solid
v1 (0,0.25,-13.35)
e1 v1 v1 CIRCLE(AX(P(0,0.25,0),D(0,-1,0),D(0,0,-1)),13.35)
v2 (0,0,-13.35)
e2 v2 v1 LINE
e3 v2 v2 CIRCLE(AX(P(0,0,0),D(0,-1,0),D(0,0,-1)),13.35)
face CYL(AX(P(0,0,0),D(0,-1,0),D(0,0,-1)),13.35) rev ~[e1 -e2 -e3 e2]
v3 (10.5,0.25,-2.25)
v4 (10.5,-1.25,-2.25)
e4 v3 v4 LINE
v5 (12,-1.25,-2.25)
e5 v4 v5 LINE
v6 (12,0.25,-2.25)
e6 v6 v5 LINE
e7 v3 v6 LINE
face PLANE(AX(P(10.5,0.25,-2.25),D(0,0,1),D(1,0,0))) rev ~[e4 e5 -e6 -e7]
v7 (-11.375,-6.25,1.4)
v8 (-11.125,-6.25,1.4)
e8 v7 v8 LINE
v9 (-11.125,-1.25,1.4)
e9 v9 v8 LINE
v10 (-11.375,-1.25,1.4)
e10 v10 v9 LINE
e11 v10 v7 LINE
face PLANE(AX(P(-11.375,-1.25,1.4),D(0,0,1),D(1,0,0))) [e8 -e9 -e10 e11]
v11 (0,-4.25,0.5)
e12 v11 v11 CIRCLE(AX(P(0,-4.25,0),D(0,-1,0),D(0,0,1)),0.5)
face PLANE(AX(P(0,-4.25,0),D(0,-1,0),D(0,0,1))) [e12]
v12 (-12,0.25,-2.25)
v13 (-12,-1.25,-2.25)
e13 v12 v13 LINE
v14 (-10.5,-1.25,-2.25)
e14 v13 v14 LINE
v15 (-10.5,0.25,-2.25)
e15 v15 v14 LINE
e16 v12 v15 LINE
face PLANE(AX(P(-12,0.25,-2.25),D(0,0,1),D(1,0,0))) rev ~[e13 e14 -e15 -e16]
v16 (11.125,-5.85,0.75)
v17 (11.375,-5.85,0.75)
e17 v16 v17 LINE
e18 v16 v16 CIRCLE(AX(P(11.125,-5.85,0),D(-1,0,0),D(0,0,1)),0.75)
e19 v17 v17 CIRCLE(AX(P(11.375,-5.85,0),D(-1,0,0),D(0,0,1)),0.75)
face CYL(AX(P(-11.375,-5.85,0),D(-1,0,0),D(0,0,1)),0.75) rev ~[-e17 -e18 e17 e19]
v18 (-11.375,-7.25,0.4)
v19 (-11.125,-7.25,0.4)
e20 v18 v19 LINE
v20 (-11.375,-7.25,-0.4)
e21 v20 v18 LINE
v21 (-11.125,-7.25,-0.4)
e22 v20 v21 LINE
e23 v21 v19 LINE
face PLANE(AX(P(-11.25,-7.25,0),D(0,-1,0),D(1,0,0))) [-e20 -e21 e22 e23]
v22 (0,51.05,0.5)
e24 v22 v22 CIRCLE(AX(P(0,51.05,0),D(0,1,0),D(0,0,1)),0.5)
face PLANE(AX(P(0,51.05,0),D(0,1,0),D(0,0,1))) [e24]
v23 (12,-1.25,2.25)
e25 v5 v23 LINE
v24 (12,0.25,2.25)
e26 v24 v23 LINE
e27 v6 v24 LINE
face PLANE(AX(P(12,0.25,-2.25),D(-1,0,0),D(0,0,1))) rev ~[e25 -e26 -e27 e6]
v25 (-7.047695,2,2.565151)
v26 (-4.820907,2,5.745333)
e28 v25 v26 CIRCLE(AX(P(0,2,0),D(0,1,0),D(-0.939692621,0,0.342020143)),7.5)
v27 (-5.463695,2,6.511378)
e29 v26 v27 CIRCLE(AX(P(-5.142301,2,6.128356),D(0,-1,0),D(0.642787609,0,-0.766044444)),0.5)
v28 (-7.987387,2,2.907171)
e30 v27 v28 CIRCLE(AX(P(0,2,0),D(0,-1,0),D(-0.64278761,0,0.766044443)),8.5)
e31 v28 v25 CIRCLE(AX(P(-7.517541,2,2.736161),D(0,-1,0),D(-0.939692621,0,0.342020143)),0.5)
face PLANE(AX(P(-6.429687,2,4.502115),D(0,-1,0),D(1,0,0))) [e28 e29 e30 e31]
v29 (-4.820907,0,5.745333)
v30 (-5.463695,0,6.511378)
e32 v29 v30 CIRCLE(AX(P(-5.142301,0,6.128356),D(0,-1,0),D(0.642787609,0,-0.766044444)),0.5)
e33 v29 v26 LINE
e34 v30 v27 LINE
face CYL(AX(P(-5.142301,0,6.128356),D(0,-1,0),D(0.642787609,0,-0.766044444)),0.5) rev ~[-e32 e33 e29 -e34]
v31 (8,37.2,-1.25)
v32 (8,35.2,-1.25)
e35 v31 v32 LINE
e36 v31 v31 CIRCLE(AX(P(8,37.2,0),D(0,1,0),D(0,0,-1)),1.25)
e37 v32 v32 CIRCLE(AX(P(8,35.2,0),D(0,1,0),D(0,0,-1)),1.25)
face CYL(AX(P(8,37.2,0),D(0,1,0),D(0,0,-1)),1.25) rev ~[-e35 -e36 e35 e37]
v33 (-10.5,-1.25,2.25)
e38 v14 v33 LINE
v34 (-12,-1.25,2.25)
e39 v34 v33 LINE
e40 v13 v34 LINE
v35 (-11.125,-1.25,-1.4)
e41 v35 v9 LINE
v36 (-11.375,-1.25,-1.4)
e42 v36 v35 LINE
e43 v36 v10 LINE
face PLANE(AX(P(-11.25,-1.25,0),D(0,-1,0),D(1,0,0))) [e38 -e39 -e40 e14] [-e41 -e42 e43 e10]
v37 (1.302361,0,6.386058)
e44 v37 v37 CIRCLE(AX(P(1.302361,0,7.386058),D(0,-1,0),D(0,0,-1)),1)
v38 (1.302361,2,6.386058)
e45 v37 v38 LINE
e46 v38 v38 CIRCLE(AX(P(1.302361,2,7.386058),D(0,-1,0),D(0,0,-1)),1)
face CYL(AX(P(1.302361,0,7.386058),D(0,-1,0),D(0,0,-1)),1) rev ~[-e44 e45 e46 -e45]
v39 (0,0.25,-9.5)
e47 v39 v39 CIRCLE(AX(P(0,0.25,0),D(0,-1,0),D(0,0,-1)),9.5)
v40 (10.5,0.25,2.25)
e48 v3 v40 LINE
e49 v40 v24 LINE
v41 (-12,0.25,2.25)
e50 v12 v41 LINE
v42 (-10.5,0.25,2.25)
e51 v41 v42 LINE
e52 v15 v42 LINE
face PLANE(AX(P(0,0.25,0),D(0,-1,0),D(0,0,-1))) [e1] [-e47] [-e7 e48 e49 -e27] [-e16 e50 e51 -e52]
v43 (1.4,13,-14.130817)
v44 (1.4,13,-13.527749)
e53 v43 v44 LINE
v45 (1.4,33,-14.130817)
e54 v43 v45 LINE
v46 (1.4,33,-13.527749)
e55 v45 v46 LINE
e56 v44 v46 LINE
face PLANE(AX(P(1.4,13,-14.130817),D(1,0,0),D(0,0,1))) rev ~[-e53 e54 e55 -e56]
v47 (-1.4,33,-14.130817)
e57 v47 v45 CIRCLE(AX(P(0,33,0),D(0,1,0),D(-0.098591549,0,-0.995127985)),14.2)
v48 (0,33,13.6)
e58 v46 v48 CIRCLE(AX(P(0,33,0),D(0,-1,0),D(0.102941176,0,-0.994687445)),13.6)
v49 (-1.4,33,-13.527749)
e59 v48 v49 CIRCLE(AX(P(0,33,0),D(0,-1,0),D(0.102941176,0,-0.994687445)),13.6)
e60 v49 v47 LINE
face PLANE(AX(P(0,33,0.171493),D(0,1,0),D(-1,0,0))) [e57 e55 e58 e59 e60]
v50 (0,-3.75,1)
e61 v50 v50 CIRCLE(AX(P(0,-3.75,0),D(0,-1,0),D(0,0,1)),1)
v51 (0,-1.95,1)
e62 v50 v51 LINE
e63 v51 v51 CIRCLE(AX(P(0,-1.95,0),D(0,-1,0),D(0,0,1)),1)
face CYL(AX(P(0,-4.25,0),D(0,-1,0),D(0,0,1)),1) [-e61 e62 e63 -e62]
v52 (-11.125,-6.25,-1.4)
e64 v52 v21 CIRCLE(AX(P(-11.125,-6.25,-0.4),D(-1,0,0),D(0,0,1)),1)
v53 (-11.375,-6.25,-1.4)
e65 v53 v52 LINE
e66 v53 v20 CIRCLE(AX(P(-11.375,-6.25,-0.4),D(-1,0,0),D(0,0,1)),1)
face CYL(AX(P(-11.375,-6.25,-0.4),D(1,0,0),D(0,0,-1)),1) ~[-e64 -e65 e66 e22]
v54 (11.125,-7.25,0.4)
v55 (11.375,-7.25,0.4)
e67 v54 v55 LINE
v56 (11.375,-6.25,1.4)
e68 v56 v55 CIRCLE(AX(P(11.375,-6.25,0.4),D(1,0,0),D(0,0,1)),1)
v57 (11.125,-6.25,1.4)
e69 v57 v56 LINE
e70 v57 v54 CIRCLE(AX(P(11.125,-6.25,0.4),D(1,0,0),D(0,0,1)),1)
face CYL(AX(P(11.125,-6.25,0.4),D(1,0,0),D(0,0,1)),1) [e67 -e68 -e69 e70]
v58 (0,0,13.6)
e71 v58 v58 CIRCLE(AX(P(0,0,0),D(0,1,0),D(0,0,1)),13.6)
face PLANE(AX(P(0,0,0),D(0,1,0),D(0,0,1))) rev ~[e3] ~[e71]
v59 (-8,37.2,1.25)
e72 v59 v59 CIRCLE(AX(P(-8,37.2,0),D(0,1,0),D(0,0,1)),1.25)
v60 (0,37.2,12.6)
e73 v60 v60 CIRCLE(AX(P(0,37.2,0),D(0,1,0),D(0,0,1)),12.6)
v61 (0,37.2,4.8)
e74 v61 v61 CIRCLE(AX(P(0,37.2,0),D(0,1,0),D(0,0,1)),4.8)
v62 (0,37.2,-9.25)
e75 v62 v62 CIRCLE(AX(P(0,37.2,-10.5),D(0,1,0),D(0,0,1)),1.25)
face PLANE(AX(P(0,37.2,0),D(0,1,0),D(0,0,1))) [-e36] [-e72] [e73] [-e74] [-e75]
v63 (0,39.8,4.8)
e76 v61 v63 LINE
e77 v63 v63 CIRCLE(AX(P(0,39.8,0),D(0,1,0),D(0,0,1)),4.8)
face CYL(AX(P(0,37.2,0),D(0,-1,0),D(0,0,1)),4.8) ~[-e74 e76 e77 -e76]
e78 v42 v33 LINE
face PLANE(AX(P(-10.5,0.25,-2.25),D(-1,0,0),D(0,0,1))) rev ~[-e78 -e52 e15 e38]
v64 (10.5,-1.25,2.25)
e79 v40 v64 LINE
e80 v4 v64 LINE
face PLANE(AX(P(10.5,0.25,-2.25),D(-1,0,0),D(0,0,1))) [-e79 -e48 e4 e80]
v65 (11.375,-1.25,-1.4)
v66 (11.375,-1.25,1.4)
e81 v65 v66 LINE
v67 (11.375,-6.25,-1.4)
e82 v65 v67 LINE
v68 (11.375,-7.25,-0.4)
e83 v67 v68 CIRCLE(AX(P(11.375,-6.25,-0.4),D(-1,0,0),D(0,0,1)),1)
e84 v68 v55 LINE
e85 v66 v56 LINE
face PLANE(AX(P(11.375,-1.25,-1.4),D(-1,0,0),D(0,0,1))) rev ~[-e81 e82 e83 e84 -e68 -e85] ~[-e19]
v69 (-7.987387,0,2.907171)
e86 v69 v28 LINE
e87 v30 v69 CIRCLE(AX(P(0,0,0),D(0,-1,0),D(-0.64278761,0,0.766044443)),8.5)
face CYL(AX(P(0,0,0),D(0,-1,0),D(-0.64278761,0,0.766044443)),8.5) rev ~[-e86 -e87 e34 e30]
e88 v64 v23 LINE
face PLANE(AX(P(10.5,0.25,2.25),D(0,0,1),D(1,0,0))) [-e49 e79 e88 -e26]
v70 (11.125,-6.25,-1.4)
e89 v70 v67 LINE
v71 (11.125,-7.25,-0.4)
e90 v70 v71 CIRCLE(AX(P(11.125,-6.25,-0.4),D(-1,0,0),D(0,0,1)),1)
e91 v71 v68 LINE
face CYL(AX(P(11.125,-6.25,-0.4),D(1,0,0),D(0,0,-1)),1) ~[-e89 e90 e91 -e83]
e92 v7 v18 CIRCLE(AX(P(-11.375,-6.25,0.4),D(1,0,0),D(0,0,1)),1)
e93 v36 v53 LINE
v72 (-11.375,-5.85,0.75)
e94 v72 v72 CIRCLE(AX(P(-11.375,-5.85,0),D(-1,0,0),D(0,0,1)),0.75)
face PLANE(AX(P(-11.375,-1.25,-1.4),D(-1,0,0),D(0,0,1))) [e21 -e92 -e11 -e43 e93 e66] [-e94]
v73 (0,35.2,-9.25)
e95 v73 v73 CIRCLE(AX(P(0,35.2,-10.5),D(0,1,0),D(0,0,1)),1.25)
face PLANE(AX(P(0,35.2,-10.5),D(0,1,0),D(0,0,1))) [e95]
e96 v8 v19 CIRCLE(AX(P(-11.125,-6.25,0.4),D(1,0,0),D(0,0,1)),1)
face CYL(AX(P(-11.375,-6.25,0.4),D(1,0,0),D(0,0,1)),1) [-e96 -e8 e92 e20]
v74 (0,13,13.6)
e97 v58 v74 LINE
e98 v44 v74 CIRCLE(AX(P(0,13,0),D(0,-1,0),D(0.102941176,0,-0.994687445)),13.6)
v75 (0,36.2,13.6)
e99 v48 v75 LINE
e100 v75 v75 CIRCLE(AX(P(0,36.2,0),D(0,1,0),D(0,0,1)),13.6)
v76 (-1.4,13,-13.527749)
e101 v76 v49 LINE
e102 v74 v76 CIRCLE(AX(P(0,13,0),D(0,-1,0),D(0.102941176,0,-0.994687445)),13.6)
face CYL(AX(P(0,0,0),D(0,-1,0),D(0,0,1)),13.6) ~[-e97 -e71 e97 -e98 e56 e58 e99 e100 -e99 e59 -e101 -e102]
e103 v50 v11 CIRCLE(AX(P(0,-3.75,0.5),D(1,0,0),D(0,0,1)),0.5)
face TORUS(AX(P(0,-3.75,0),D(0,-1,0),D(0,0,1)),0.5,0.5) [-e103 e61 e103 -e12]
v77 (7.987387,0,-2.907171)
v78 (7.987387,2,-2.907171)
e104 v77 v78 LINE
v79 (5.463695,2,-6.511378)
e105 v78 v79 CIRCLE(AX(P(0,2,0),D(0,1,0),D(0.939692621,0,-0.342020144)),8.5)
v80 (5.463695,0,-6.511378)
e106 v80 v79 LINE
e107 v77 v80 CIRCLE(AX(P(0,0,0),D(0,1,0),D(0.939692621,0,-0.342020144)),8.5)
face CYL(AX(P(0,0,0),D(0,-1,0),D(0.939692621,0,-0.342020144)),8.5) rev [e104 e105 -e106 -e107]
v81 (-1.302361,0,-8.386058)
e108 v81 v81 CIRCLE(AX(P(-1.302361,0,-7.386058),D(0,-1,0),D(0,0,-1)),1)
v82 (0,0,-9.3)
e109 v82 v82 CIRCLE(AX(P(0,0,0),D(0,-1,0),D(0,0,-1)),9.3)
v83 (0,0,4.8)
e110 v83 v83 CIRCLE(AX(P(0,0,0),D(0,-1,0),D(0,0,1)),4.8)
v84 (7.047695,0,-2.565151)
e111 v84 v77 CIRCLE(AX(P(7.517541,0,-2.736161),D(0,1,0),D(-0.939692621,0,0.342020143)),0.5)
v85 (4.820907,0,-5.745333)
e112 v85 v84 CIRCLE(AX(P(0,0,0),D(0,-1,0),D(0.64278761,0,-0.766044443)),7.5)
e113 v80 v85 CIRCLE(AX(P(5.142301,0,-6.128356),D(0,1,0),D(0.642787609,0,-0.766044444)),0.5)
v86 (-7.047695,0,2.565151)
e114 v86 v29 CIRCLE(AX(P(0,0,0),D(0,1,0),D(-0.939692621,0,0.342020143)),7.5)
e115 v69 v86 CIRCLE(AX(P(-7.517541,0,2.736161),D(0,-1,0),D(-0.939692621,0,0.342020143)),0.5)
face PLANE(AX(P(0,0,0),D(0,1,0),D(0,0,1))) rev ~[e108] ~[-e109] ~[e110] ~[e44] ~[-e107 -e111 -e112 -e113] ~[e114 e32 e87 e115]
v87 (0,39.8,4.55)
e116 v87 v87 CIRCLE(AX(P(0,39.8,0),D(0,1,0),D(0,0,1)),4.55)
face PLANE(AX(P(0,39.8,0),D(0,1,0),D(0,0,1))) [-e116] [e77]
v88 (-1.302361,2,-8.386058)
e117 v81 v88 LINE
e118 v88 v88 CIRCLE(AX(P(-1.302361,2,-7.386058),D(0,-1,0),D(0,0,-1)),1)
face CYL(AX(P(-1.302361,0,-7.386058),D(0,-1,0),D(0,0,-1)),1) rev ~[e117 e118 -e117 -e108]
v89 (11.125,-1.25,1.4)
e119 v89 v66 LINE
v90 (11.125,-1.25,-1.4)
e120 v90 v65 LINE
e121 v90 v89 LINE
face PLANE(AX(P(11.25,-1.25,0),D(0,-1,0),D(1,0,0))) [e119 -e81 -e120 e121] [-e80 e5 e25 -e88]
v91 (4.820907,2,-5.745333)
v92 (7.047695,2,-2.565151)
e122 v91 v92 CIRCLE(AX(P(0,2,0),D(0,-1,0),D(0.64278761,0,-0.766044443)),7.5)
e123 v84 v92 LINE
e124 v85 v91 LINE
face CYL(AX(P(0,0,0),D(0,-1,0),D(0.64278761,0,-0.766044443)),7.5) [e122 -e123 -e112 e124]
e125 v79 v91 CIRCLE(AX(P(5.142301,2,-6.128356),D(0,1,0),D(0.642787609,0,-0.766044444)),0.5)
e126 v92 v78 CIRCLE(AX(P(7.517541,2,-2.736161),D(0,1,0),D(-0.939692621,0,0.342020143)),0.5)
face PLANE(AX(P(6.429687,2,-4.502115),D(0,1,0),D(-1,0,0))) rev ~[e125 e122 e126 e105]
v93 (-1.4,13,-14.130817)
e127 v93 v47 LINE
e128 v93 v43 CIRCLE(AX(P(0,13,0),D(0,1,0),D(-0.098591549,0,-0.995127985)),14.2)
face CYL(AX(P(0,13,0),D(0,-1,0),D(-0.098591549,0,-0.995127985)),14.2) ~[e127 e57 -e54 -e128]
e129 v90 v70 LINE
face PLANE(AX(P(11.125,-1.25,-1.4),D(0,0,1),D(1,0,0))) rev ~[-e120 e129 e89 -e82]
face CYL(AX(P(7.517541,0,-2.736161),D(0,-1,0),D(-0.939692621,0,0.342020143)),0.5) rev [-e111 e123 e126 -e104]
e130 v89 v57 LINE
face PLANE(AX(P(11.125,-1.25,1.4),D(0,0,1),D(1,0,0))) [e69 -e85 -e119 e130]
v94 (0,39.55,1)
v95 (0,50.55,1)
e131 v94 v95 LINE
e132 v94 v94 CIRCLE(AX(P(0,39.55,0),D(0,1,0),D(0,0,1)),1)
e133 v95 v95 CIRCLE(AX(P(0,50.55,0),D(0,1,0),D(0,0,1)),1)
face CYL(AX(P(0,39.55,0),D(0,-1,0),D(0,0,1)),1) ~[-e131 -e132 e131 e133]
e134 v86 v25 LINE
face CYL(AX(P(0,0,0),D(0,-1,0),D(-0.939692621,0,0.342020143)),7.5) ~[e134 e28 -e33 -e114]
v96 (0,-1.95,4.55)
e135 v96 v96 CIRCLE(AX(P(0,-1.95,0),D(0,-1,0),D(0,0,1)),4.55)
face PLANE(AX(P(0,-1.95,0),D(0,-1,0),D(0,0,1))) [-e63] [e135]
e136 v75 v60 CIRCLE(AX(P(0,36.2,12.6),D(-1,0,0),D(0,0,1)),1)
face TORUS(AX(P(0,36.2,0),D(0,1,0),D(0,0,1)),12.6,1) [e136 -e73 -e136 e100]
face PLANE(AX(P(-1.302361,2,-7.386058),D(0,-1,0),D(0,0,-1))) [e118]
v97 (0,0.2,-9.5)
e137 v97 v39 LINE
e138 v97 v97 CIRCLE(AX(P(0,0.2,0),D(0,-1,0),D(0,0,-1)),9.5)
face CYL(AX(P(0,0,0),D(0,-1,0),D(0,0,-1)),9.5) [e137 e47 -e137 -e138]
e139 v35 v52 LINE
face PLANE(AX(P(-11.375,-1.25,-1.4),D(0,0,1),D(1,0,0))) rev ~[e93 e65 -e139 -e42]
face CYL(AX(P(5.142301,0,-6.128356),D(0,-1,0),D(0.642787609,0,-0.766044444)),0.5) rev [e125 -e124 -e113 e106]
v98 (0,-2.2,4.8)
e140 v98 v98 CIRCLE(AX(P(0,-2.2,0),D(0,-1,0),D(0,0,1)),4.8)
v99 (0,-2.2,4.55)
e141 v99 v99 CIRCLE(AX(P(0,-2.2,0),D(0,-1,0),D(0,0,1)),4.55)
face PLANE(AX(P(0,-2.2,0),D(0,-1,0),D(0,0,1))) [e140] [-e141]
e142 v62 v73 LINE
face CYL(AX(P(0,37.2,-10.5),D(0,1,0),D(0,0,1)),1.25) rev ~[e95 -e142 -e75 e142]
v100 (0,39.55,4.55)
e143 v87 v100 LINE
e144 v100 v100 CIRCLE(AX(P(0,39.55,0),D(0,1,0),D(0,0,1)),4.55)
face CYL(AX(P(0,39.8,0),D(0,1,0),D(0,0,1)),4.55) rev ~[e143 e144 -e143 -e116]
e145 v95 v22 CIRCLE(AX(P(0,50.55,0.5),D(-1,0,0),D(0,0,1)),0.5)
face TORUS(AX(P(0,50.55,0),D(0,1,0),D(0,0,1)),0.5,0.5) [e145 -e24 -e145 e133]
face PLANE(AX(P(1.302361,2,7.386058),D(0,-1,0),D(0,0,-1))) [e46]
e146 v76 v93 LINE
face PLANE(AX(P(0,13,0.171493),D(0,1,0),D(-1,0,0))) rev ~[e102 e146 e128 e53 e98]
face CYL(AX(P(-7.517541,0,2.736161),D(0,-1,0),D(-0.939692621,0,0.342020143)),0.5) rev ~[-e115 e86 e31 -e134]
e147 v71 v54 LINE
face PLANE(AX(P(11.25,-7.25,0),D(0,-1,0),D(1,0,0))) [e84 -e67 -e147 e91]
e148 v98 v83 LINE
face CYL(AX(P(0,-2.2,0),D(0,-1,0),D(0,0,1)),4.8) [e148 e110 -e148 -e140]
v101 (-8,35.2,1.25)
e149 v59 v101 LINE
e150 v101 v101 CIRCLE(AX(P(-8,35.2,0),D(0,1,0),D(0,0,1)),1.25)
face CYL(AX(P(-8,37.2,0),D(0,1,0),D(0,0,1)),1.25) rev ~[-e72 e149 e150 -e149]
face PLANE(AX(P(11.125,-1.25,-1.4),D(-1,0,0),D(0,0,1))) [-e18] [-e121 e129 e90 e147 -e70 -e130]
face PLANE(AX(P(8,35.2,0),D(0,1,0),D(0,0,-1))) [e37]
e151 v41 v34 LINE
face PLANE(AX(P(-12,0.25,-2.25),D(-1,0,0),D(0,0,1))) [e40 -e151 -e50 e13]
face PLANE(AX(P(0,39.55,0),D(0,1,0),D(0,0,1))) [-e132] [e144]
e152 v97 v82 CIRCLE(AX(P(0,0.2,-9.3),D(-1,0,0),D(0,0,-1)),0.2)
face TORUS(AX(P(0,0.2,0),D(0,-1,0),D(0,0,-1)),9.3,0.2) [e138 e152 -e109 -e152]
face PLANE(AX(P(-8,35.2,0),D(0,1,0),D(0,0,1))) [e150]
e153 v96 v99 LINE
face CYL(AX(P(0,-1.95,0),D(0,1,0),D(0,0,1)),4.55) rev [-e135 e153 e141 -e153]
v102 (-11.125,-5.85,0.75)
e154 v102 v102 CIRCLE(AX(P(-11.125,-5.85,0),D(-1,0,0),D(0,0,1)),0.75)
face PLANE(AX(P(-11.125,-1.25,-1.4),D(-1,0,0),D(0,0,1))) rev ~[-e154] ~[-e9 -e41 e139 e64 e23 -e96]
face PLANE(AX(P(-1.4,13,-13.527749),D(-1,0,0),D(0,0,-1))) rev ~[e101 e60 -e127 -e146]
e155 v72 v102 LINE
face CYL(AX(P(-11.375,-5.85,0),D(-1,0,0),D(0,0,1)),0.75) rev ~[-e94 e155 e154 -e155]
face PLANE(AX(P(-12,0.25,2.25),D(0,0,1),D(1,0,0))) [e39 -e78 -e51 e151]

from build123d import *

# Parameters (mm, degrees)
ESBO_O1_R                = 13.6
RESSALTO_EXTRUS_O1_DEPTH = 37.2
ESBO_O2_R                = 4.8
RESSALTO_EXTRUS_O2_DEPTH = 2.6
ESBO_O3_R                = 4.55
CORTE_EXTRUS_O1_DEPTH    = 0.25
ESBO_O4_R                = 1
RESSALTO_EXTRUS_O3_DEPTH = 11.5
FILETE1_R                = 0.5
ESBO_O5_R                = 1.25
CORTE_EXTRUS_O2_DEPTH    = 2
ESBO_O6_R                = 1.25
CORTE_EXTRUS_O3_DEPTH    = 2
ESBO_O7_R                = 13.35
ESBO_O7_R_2              = 9.5
CORTE_EXTRUS_O4_DEPTH    = 0.25
FILETE2_R                = 0.2
RESSALTO_EXTRUS_O4_START = 2.2
ESBO_O8_R                = 4.8
RESSALTO_EXTRUS_O4_DEPTH = 2.2
CORTE_EXTRUS_O5_START    = -0.25
ESBO_O9_R                = 4.55
CORTE_EXTRUS_O5_DEPTH    = 0.25
RESSALTO_EXTRUS_O5_START = 2.3
ESBO_O10_R               = 1
RESSALTO_EXTRUS_O5_DEPTH = 2.3
FILETE3_R                = 0.5
FILETE4_R                = 1
ESBO_O11_W               = 1.5
ESBO_O11_H               = 4.5
RESSALTO_EXTRUS_O6_DEPTH = 1.5
ESBO_O12_W               = 0.25
ESBO_O12_H               = 2.8
RESSALTO_EXTRUS_O7_DEPTH = 6
ESBO_O13_R               = 0.75
CORTE_EXTRUS_O6_DEPTH    = 59.436402419
FILETE5_R                = 1
ESBO_O14_R               = 1
CORTE_EXTRUS_O7_DEPTH    = 2
CORTE_EXTRUS_O8_DEPTH    = 2
RESSALTO_EXTRUS_O8_START = -13
RESSALTO_EXTRUS_O8_DEPTH = 20


with BuildPart() as part:
    # Esboço1 → Ressalto-extrusão1 (new body)
    with BuildSketch(Plane(origin=(0, 0, 0), x_dir=(1, 0, 0), z_dir=(0, 1, 0))):
        with Locations(Location((0, 0, 0), (0, 0, 270))):
            Circle(ESBO_O1_R)
    extrude(amount=RESSALTO_EXTRUS_O1_DEPTH)

    # Esboço2 → Ressalto-extrusão2 (add)
    with BuildSketch(Plane(origin=(0, 37.2, 0), x_dir=(1, 0, 0), z_dir=(0, 1, 0))):
        with Locations(Location((0, 0, 0), (0, 0, 270))):
            Circle(ESBO_O2_R)
    extrude(amount=RESSALTO_EXTRUS_O2_DEPTH)

    # Esboço3 → Corte-extrusão1 (cut)
    with BuildSketch(Plane(origin=(0, 39.8, 0), x_dir=(1, 0, 0), z_dir=(0, 1, 0))):
        with Locations(Location((0, 0, 0), (0, 0, 270))):
            Circle(ESBO_O3_R)
    extrude(amount=-CORTE_EXTRUS_O1_DEPTH, mode=Mode.SUBTRACT)

    # Esboço4 → Ressalto-extrusão3 (add)
    with BuildSketch(Plane(origin=(0, 39.55, 0), x_dir=(1, 0, 0), z_dir=(0, 1, 0))):
        with Locations(Location((0, 0, 0), (0, 0, 270))):
            Circle(ESBO_O4_R)
    extrude(amount=RESSALTO_EXTRUS_O3_DEPTH)

    # Filete1
    filete1_edges = [part.edges().sort_by_distance(p)[0] for p in [
        (0, 51.05, -1),
    ]]
    fillet(filete1_edges, radius=FILETE1_R)

    # Esboço5 → Corte-extrusão2 (cut)
    with BuildSketch(Plane(origin=(0, 37.2, 0), x_dir=(1, 0, 0), z_dir=(0, 1, 0))):
        with Locations(Location((-8, 0, 0), (0, 0, 270))):
            Circle(ESBO_O5_R)
        with Locations(Location((8, 0, 0), (0, 0, 90))):
            Circle(ESBO_O5_R)
    extrude(amount=-CORTE_EXTRUS_O2_DEPTH, mode=Mode.SUBTRACT)

    # Esboço6 → Corte-extrusão3 (cut)
    with BuildSketch(Plane(origin=(0, 37.2, 0), x_dir=(1, 0, 0), z_dir=(0, 1, 0))):
        with Locations(Location((0, 10.5, 0), (0, 0, 270))):
            Circle(ESBO_O6_R)
    extrude(amount=-CORTE_EXTRUS_O3_DEPTH, mode=Mode.SUBTRACT)

    # Esboço7 → Corte-extrusão4 (cut)
    with BuildSketch(Plane.XZ):
        with Locations(Location((0, 0, 0), (0, 0, 270))):
            Circle(ESBO_O7_R)
        with Locations(Location((0, 0, 0), (0, 0, 270))):
            Circle(ESBO_O7_R_2, mode=Mode.SUBTRACT)
    extrude(amount=-CORTE_EXTRUS_O4_DEPTH, mode=Mode.SUBTRACT)

    # Filete2
    filete2_edges = [part.edges().sort_by_distance(p)[0] for p in [
        (0, 0, 9.5),
    ]]
    fillet(filete2_edges, radius=FILETE2_R)

    # Esboço8 → Ressalto-extrusão4 (add)
    with BuildSketch(Plane.XZ.offset(RESSALTO_EXTRUS_O4_START)):
        with Locations(Location((0, 0, 0), (0, 0, 90))):
            Circle(ESBO_O8_R)
    extrude(amount=-RESSALTO_EXTRUS_O4_DEPTH)

    # Esboço9 → Corte-extrusão5 (cut)
    with BuildSketch(Plane.XZ.offset(2.2).offset(CORTE_EXTRUS_O5_START)):
        with Locations(Location((0, 0, 0), (0, 0, 90))):
            Circle(ESBO_O9_R)
    extrude(amount=CORTE_EXTRUS_O5_DEPTH, mode=Mode.SUBTRACT)

    # Esboço10 → Ressalto-extrusão5 (add)
    with BuildSketch(Plane.XZ.offset(1.95).offset(RESSALTO_EXTRUS_O5_START)):
        with Locations(Location((0, 0, 0), (0, 0, 90))):
            Circle(ESBO_O10_R)
    extrude(amount=-RESSALTO_EXTRUS_O5_DEPTH)

    # Filete3
    filete3_edges = [part.edges().sort_by_distance(p)[0] for p in [
        (0, -4.25, -1),
    ]]
    fillet(filete3_edges, radius=FILETE3_R)

    # Filete4
    filete4_edges = [part.edges().sort_by_distance(p)[0] for p in [
        (0, 37.2, -13.6),
    ]]
    fillet(filete4_edges, radius=FILETE4_R)

    # Esboço11 → Ressalto-extrusão6 (add)
    with BuildSketch(Plane.XZ.offset(-0.25)):
        with Locations((-11.25, 0)):
            Rectangle(ESBO_O11_W, ESBO_O11_H)
        with Locations((11.25, 0)):
            Rectangle(ESBO_O11_W, ESBO_O11_H)
    extrude(amount=RESSALTO_EXTRUS_O6_DEPTH)

    # Esboço12 → Ressalto-extrusão7 (add)
    with BuildSketch(Plane.XZ.offset(1.25)):
        with Locations((-11.25, 0)):
            Rectangle(ESBO_O12_W, ESBO_O12_H)
        with Locations((11.25, 0)):
            Rectangle(ESBO_O12_W, ESBO_O12_H)
    extrude(amount=RESSALTO_EXTRUS_O7_DEPTH)

    # Esboço13 → Corte-extrusão6 (cut, through all)
    with BuildSketch(Plane.ZY.offset(11.375)):
        with Locations((0, -5.85)):
            Circle(ESBO_O13_R)
    extrude(amount=-CORTE_EXTRUS_O6_DEPTH, mode=Mode.SUBTRACT)

    # Filete5
    filete5_edges = [part.edges().sort_by_distance(p)[0] for p in [
        (-11.25, -7.25, 1.4),
        (-11.25, -7.25, -1.4),
        (11.25, -7.25, 1.4),
        (11.25, -7.25, -1.4),
    ]]
    fillet(filete5_edges, radius=FILETE5_R)

    # Esboço14 → Corte-extrusão7 (cut)
    with BuildSketch(Plane.XZ):
        with Locations(Location((1.302361333, 7.386058148, 0), (0, 0, 270))):
            Circle(ESBO_O14_R)
        with Locations(Location((-1.302361333, -7.386058148, 0), (0, 0, 270))):
            Circle(ESBO_O14_R)
    extrude(amount=-CORTE_EXTRUS_O7_DEPTH, mode=Mode.SUBTRACT)

    # Esboço15 → Corte-extrusão8 (cut)
    with BuildSketch(Plane.XZ):
        with BuildLine():
            ThreePointArc((-5.463694682, 6.511377767), (-6.962792376, 4.875399709), (-7.987387277, 2.907171218))
            ThreePointArc((-7.987387277, 2.907171218), (-7.688551038, 2.266314836), (-7.047694656, 2.565151075))
            ThreePointArc((-7.047694656, 2.565151075), (-6.143640332, 4.301823273), (-4.820907073, 5.745333323))
            ThreePointArc((-4.820907073, 5.745333323), (-4.759278656, 6.44974935), (-5.463694682, 6.511377767))
        make_face()
        with BuildLine():
            ThreePointArc((4.820907073, -5.745333323), (6.143640332, -4.301823273), (7.047694656, -2.565151075))
            ThreePointArc((7.047694656, -2.565151075), (7.688551038, -2.266314836), (7.987387277, -2.907171218))
            ThreePointArc((7.987387277, -2.907171218), (6.962792376, -4.875399709), (5.463694682, -6.511377767))
            ThreePointArc((5.463694682, -6.511377767), (4.759278656, -6.44974935), (4.820907073, -5.745333323))
        make_face()
    extrude(amount=-CORTE_EXTRUS_O8_DEPTH, mode=Mode.SUBTRACT)

    # Esboço17 → Ressalto-extrusão8 (add)
    with BuildSketch(Plane.XZ.offset(RESSALTO_EXTRUS_O8_START)):
        with BuildLine():
            Line((-1.4, -13.527749258), (-1.4, -14.130817386))
            ThreePointArc((-1.4, -14.130817386), (0, 14.2), (1.4, -14.130817386))
            Line((1.4, -14.130817386), (1.4, -13.527749258))
            ThreePointArc((1.4, -13.527749258), (0, 13.6), (-1.4, -13.527749258))
        make_face()
    extrude(amount=-RESSALTO_EXTRUS_O8_DEPTH)


solid = part.part
